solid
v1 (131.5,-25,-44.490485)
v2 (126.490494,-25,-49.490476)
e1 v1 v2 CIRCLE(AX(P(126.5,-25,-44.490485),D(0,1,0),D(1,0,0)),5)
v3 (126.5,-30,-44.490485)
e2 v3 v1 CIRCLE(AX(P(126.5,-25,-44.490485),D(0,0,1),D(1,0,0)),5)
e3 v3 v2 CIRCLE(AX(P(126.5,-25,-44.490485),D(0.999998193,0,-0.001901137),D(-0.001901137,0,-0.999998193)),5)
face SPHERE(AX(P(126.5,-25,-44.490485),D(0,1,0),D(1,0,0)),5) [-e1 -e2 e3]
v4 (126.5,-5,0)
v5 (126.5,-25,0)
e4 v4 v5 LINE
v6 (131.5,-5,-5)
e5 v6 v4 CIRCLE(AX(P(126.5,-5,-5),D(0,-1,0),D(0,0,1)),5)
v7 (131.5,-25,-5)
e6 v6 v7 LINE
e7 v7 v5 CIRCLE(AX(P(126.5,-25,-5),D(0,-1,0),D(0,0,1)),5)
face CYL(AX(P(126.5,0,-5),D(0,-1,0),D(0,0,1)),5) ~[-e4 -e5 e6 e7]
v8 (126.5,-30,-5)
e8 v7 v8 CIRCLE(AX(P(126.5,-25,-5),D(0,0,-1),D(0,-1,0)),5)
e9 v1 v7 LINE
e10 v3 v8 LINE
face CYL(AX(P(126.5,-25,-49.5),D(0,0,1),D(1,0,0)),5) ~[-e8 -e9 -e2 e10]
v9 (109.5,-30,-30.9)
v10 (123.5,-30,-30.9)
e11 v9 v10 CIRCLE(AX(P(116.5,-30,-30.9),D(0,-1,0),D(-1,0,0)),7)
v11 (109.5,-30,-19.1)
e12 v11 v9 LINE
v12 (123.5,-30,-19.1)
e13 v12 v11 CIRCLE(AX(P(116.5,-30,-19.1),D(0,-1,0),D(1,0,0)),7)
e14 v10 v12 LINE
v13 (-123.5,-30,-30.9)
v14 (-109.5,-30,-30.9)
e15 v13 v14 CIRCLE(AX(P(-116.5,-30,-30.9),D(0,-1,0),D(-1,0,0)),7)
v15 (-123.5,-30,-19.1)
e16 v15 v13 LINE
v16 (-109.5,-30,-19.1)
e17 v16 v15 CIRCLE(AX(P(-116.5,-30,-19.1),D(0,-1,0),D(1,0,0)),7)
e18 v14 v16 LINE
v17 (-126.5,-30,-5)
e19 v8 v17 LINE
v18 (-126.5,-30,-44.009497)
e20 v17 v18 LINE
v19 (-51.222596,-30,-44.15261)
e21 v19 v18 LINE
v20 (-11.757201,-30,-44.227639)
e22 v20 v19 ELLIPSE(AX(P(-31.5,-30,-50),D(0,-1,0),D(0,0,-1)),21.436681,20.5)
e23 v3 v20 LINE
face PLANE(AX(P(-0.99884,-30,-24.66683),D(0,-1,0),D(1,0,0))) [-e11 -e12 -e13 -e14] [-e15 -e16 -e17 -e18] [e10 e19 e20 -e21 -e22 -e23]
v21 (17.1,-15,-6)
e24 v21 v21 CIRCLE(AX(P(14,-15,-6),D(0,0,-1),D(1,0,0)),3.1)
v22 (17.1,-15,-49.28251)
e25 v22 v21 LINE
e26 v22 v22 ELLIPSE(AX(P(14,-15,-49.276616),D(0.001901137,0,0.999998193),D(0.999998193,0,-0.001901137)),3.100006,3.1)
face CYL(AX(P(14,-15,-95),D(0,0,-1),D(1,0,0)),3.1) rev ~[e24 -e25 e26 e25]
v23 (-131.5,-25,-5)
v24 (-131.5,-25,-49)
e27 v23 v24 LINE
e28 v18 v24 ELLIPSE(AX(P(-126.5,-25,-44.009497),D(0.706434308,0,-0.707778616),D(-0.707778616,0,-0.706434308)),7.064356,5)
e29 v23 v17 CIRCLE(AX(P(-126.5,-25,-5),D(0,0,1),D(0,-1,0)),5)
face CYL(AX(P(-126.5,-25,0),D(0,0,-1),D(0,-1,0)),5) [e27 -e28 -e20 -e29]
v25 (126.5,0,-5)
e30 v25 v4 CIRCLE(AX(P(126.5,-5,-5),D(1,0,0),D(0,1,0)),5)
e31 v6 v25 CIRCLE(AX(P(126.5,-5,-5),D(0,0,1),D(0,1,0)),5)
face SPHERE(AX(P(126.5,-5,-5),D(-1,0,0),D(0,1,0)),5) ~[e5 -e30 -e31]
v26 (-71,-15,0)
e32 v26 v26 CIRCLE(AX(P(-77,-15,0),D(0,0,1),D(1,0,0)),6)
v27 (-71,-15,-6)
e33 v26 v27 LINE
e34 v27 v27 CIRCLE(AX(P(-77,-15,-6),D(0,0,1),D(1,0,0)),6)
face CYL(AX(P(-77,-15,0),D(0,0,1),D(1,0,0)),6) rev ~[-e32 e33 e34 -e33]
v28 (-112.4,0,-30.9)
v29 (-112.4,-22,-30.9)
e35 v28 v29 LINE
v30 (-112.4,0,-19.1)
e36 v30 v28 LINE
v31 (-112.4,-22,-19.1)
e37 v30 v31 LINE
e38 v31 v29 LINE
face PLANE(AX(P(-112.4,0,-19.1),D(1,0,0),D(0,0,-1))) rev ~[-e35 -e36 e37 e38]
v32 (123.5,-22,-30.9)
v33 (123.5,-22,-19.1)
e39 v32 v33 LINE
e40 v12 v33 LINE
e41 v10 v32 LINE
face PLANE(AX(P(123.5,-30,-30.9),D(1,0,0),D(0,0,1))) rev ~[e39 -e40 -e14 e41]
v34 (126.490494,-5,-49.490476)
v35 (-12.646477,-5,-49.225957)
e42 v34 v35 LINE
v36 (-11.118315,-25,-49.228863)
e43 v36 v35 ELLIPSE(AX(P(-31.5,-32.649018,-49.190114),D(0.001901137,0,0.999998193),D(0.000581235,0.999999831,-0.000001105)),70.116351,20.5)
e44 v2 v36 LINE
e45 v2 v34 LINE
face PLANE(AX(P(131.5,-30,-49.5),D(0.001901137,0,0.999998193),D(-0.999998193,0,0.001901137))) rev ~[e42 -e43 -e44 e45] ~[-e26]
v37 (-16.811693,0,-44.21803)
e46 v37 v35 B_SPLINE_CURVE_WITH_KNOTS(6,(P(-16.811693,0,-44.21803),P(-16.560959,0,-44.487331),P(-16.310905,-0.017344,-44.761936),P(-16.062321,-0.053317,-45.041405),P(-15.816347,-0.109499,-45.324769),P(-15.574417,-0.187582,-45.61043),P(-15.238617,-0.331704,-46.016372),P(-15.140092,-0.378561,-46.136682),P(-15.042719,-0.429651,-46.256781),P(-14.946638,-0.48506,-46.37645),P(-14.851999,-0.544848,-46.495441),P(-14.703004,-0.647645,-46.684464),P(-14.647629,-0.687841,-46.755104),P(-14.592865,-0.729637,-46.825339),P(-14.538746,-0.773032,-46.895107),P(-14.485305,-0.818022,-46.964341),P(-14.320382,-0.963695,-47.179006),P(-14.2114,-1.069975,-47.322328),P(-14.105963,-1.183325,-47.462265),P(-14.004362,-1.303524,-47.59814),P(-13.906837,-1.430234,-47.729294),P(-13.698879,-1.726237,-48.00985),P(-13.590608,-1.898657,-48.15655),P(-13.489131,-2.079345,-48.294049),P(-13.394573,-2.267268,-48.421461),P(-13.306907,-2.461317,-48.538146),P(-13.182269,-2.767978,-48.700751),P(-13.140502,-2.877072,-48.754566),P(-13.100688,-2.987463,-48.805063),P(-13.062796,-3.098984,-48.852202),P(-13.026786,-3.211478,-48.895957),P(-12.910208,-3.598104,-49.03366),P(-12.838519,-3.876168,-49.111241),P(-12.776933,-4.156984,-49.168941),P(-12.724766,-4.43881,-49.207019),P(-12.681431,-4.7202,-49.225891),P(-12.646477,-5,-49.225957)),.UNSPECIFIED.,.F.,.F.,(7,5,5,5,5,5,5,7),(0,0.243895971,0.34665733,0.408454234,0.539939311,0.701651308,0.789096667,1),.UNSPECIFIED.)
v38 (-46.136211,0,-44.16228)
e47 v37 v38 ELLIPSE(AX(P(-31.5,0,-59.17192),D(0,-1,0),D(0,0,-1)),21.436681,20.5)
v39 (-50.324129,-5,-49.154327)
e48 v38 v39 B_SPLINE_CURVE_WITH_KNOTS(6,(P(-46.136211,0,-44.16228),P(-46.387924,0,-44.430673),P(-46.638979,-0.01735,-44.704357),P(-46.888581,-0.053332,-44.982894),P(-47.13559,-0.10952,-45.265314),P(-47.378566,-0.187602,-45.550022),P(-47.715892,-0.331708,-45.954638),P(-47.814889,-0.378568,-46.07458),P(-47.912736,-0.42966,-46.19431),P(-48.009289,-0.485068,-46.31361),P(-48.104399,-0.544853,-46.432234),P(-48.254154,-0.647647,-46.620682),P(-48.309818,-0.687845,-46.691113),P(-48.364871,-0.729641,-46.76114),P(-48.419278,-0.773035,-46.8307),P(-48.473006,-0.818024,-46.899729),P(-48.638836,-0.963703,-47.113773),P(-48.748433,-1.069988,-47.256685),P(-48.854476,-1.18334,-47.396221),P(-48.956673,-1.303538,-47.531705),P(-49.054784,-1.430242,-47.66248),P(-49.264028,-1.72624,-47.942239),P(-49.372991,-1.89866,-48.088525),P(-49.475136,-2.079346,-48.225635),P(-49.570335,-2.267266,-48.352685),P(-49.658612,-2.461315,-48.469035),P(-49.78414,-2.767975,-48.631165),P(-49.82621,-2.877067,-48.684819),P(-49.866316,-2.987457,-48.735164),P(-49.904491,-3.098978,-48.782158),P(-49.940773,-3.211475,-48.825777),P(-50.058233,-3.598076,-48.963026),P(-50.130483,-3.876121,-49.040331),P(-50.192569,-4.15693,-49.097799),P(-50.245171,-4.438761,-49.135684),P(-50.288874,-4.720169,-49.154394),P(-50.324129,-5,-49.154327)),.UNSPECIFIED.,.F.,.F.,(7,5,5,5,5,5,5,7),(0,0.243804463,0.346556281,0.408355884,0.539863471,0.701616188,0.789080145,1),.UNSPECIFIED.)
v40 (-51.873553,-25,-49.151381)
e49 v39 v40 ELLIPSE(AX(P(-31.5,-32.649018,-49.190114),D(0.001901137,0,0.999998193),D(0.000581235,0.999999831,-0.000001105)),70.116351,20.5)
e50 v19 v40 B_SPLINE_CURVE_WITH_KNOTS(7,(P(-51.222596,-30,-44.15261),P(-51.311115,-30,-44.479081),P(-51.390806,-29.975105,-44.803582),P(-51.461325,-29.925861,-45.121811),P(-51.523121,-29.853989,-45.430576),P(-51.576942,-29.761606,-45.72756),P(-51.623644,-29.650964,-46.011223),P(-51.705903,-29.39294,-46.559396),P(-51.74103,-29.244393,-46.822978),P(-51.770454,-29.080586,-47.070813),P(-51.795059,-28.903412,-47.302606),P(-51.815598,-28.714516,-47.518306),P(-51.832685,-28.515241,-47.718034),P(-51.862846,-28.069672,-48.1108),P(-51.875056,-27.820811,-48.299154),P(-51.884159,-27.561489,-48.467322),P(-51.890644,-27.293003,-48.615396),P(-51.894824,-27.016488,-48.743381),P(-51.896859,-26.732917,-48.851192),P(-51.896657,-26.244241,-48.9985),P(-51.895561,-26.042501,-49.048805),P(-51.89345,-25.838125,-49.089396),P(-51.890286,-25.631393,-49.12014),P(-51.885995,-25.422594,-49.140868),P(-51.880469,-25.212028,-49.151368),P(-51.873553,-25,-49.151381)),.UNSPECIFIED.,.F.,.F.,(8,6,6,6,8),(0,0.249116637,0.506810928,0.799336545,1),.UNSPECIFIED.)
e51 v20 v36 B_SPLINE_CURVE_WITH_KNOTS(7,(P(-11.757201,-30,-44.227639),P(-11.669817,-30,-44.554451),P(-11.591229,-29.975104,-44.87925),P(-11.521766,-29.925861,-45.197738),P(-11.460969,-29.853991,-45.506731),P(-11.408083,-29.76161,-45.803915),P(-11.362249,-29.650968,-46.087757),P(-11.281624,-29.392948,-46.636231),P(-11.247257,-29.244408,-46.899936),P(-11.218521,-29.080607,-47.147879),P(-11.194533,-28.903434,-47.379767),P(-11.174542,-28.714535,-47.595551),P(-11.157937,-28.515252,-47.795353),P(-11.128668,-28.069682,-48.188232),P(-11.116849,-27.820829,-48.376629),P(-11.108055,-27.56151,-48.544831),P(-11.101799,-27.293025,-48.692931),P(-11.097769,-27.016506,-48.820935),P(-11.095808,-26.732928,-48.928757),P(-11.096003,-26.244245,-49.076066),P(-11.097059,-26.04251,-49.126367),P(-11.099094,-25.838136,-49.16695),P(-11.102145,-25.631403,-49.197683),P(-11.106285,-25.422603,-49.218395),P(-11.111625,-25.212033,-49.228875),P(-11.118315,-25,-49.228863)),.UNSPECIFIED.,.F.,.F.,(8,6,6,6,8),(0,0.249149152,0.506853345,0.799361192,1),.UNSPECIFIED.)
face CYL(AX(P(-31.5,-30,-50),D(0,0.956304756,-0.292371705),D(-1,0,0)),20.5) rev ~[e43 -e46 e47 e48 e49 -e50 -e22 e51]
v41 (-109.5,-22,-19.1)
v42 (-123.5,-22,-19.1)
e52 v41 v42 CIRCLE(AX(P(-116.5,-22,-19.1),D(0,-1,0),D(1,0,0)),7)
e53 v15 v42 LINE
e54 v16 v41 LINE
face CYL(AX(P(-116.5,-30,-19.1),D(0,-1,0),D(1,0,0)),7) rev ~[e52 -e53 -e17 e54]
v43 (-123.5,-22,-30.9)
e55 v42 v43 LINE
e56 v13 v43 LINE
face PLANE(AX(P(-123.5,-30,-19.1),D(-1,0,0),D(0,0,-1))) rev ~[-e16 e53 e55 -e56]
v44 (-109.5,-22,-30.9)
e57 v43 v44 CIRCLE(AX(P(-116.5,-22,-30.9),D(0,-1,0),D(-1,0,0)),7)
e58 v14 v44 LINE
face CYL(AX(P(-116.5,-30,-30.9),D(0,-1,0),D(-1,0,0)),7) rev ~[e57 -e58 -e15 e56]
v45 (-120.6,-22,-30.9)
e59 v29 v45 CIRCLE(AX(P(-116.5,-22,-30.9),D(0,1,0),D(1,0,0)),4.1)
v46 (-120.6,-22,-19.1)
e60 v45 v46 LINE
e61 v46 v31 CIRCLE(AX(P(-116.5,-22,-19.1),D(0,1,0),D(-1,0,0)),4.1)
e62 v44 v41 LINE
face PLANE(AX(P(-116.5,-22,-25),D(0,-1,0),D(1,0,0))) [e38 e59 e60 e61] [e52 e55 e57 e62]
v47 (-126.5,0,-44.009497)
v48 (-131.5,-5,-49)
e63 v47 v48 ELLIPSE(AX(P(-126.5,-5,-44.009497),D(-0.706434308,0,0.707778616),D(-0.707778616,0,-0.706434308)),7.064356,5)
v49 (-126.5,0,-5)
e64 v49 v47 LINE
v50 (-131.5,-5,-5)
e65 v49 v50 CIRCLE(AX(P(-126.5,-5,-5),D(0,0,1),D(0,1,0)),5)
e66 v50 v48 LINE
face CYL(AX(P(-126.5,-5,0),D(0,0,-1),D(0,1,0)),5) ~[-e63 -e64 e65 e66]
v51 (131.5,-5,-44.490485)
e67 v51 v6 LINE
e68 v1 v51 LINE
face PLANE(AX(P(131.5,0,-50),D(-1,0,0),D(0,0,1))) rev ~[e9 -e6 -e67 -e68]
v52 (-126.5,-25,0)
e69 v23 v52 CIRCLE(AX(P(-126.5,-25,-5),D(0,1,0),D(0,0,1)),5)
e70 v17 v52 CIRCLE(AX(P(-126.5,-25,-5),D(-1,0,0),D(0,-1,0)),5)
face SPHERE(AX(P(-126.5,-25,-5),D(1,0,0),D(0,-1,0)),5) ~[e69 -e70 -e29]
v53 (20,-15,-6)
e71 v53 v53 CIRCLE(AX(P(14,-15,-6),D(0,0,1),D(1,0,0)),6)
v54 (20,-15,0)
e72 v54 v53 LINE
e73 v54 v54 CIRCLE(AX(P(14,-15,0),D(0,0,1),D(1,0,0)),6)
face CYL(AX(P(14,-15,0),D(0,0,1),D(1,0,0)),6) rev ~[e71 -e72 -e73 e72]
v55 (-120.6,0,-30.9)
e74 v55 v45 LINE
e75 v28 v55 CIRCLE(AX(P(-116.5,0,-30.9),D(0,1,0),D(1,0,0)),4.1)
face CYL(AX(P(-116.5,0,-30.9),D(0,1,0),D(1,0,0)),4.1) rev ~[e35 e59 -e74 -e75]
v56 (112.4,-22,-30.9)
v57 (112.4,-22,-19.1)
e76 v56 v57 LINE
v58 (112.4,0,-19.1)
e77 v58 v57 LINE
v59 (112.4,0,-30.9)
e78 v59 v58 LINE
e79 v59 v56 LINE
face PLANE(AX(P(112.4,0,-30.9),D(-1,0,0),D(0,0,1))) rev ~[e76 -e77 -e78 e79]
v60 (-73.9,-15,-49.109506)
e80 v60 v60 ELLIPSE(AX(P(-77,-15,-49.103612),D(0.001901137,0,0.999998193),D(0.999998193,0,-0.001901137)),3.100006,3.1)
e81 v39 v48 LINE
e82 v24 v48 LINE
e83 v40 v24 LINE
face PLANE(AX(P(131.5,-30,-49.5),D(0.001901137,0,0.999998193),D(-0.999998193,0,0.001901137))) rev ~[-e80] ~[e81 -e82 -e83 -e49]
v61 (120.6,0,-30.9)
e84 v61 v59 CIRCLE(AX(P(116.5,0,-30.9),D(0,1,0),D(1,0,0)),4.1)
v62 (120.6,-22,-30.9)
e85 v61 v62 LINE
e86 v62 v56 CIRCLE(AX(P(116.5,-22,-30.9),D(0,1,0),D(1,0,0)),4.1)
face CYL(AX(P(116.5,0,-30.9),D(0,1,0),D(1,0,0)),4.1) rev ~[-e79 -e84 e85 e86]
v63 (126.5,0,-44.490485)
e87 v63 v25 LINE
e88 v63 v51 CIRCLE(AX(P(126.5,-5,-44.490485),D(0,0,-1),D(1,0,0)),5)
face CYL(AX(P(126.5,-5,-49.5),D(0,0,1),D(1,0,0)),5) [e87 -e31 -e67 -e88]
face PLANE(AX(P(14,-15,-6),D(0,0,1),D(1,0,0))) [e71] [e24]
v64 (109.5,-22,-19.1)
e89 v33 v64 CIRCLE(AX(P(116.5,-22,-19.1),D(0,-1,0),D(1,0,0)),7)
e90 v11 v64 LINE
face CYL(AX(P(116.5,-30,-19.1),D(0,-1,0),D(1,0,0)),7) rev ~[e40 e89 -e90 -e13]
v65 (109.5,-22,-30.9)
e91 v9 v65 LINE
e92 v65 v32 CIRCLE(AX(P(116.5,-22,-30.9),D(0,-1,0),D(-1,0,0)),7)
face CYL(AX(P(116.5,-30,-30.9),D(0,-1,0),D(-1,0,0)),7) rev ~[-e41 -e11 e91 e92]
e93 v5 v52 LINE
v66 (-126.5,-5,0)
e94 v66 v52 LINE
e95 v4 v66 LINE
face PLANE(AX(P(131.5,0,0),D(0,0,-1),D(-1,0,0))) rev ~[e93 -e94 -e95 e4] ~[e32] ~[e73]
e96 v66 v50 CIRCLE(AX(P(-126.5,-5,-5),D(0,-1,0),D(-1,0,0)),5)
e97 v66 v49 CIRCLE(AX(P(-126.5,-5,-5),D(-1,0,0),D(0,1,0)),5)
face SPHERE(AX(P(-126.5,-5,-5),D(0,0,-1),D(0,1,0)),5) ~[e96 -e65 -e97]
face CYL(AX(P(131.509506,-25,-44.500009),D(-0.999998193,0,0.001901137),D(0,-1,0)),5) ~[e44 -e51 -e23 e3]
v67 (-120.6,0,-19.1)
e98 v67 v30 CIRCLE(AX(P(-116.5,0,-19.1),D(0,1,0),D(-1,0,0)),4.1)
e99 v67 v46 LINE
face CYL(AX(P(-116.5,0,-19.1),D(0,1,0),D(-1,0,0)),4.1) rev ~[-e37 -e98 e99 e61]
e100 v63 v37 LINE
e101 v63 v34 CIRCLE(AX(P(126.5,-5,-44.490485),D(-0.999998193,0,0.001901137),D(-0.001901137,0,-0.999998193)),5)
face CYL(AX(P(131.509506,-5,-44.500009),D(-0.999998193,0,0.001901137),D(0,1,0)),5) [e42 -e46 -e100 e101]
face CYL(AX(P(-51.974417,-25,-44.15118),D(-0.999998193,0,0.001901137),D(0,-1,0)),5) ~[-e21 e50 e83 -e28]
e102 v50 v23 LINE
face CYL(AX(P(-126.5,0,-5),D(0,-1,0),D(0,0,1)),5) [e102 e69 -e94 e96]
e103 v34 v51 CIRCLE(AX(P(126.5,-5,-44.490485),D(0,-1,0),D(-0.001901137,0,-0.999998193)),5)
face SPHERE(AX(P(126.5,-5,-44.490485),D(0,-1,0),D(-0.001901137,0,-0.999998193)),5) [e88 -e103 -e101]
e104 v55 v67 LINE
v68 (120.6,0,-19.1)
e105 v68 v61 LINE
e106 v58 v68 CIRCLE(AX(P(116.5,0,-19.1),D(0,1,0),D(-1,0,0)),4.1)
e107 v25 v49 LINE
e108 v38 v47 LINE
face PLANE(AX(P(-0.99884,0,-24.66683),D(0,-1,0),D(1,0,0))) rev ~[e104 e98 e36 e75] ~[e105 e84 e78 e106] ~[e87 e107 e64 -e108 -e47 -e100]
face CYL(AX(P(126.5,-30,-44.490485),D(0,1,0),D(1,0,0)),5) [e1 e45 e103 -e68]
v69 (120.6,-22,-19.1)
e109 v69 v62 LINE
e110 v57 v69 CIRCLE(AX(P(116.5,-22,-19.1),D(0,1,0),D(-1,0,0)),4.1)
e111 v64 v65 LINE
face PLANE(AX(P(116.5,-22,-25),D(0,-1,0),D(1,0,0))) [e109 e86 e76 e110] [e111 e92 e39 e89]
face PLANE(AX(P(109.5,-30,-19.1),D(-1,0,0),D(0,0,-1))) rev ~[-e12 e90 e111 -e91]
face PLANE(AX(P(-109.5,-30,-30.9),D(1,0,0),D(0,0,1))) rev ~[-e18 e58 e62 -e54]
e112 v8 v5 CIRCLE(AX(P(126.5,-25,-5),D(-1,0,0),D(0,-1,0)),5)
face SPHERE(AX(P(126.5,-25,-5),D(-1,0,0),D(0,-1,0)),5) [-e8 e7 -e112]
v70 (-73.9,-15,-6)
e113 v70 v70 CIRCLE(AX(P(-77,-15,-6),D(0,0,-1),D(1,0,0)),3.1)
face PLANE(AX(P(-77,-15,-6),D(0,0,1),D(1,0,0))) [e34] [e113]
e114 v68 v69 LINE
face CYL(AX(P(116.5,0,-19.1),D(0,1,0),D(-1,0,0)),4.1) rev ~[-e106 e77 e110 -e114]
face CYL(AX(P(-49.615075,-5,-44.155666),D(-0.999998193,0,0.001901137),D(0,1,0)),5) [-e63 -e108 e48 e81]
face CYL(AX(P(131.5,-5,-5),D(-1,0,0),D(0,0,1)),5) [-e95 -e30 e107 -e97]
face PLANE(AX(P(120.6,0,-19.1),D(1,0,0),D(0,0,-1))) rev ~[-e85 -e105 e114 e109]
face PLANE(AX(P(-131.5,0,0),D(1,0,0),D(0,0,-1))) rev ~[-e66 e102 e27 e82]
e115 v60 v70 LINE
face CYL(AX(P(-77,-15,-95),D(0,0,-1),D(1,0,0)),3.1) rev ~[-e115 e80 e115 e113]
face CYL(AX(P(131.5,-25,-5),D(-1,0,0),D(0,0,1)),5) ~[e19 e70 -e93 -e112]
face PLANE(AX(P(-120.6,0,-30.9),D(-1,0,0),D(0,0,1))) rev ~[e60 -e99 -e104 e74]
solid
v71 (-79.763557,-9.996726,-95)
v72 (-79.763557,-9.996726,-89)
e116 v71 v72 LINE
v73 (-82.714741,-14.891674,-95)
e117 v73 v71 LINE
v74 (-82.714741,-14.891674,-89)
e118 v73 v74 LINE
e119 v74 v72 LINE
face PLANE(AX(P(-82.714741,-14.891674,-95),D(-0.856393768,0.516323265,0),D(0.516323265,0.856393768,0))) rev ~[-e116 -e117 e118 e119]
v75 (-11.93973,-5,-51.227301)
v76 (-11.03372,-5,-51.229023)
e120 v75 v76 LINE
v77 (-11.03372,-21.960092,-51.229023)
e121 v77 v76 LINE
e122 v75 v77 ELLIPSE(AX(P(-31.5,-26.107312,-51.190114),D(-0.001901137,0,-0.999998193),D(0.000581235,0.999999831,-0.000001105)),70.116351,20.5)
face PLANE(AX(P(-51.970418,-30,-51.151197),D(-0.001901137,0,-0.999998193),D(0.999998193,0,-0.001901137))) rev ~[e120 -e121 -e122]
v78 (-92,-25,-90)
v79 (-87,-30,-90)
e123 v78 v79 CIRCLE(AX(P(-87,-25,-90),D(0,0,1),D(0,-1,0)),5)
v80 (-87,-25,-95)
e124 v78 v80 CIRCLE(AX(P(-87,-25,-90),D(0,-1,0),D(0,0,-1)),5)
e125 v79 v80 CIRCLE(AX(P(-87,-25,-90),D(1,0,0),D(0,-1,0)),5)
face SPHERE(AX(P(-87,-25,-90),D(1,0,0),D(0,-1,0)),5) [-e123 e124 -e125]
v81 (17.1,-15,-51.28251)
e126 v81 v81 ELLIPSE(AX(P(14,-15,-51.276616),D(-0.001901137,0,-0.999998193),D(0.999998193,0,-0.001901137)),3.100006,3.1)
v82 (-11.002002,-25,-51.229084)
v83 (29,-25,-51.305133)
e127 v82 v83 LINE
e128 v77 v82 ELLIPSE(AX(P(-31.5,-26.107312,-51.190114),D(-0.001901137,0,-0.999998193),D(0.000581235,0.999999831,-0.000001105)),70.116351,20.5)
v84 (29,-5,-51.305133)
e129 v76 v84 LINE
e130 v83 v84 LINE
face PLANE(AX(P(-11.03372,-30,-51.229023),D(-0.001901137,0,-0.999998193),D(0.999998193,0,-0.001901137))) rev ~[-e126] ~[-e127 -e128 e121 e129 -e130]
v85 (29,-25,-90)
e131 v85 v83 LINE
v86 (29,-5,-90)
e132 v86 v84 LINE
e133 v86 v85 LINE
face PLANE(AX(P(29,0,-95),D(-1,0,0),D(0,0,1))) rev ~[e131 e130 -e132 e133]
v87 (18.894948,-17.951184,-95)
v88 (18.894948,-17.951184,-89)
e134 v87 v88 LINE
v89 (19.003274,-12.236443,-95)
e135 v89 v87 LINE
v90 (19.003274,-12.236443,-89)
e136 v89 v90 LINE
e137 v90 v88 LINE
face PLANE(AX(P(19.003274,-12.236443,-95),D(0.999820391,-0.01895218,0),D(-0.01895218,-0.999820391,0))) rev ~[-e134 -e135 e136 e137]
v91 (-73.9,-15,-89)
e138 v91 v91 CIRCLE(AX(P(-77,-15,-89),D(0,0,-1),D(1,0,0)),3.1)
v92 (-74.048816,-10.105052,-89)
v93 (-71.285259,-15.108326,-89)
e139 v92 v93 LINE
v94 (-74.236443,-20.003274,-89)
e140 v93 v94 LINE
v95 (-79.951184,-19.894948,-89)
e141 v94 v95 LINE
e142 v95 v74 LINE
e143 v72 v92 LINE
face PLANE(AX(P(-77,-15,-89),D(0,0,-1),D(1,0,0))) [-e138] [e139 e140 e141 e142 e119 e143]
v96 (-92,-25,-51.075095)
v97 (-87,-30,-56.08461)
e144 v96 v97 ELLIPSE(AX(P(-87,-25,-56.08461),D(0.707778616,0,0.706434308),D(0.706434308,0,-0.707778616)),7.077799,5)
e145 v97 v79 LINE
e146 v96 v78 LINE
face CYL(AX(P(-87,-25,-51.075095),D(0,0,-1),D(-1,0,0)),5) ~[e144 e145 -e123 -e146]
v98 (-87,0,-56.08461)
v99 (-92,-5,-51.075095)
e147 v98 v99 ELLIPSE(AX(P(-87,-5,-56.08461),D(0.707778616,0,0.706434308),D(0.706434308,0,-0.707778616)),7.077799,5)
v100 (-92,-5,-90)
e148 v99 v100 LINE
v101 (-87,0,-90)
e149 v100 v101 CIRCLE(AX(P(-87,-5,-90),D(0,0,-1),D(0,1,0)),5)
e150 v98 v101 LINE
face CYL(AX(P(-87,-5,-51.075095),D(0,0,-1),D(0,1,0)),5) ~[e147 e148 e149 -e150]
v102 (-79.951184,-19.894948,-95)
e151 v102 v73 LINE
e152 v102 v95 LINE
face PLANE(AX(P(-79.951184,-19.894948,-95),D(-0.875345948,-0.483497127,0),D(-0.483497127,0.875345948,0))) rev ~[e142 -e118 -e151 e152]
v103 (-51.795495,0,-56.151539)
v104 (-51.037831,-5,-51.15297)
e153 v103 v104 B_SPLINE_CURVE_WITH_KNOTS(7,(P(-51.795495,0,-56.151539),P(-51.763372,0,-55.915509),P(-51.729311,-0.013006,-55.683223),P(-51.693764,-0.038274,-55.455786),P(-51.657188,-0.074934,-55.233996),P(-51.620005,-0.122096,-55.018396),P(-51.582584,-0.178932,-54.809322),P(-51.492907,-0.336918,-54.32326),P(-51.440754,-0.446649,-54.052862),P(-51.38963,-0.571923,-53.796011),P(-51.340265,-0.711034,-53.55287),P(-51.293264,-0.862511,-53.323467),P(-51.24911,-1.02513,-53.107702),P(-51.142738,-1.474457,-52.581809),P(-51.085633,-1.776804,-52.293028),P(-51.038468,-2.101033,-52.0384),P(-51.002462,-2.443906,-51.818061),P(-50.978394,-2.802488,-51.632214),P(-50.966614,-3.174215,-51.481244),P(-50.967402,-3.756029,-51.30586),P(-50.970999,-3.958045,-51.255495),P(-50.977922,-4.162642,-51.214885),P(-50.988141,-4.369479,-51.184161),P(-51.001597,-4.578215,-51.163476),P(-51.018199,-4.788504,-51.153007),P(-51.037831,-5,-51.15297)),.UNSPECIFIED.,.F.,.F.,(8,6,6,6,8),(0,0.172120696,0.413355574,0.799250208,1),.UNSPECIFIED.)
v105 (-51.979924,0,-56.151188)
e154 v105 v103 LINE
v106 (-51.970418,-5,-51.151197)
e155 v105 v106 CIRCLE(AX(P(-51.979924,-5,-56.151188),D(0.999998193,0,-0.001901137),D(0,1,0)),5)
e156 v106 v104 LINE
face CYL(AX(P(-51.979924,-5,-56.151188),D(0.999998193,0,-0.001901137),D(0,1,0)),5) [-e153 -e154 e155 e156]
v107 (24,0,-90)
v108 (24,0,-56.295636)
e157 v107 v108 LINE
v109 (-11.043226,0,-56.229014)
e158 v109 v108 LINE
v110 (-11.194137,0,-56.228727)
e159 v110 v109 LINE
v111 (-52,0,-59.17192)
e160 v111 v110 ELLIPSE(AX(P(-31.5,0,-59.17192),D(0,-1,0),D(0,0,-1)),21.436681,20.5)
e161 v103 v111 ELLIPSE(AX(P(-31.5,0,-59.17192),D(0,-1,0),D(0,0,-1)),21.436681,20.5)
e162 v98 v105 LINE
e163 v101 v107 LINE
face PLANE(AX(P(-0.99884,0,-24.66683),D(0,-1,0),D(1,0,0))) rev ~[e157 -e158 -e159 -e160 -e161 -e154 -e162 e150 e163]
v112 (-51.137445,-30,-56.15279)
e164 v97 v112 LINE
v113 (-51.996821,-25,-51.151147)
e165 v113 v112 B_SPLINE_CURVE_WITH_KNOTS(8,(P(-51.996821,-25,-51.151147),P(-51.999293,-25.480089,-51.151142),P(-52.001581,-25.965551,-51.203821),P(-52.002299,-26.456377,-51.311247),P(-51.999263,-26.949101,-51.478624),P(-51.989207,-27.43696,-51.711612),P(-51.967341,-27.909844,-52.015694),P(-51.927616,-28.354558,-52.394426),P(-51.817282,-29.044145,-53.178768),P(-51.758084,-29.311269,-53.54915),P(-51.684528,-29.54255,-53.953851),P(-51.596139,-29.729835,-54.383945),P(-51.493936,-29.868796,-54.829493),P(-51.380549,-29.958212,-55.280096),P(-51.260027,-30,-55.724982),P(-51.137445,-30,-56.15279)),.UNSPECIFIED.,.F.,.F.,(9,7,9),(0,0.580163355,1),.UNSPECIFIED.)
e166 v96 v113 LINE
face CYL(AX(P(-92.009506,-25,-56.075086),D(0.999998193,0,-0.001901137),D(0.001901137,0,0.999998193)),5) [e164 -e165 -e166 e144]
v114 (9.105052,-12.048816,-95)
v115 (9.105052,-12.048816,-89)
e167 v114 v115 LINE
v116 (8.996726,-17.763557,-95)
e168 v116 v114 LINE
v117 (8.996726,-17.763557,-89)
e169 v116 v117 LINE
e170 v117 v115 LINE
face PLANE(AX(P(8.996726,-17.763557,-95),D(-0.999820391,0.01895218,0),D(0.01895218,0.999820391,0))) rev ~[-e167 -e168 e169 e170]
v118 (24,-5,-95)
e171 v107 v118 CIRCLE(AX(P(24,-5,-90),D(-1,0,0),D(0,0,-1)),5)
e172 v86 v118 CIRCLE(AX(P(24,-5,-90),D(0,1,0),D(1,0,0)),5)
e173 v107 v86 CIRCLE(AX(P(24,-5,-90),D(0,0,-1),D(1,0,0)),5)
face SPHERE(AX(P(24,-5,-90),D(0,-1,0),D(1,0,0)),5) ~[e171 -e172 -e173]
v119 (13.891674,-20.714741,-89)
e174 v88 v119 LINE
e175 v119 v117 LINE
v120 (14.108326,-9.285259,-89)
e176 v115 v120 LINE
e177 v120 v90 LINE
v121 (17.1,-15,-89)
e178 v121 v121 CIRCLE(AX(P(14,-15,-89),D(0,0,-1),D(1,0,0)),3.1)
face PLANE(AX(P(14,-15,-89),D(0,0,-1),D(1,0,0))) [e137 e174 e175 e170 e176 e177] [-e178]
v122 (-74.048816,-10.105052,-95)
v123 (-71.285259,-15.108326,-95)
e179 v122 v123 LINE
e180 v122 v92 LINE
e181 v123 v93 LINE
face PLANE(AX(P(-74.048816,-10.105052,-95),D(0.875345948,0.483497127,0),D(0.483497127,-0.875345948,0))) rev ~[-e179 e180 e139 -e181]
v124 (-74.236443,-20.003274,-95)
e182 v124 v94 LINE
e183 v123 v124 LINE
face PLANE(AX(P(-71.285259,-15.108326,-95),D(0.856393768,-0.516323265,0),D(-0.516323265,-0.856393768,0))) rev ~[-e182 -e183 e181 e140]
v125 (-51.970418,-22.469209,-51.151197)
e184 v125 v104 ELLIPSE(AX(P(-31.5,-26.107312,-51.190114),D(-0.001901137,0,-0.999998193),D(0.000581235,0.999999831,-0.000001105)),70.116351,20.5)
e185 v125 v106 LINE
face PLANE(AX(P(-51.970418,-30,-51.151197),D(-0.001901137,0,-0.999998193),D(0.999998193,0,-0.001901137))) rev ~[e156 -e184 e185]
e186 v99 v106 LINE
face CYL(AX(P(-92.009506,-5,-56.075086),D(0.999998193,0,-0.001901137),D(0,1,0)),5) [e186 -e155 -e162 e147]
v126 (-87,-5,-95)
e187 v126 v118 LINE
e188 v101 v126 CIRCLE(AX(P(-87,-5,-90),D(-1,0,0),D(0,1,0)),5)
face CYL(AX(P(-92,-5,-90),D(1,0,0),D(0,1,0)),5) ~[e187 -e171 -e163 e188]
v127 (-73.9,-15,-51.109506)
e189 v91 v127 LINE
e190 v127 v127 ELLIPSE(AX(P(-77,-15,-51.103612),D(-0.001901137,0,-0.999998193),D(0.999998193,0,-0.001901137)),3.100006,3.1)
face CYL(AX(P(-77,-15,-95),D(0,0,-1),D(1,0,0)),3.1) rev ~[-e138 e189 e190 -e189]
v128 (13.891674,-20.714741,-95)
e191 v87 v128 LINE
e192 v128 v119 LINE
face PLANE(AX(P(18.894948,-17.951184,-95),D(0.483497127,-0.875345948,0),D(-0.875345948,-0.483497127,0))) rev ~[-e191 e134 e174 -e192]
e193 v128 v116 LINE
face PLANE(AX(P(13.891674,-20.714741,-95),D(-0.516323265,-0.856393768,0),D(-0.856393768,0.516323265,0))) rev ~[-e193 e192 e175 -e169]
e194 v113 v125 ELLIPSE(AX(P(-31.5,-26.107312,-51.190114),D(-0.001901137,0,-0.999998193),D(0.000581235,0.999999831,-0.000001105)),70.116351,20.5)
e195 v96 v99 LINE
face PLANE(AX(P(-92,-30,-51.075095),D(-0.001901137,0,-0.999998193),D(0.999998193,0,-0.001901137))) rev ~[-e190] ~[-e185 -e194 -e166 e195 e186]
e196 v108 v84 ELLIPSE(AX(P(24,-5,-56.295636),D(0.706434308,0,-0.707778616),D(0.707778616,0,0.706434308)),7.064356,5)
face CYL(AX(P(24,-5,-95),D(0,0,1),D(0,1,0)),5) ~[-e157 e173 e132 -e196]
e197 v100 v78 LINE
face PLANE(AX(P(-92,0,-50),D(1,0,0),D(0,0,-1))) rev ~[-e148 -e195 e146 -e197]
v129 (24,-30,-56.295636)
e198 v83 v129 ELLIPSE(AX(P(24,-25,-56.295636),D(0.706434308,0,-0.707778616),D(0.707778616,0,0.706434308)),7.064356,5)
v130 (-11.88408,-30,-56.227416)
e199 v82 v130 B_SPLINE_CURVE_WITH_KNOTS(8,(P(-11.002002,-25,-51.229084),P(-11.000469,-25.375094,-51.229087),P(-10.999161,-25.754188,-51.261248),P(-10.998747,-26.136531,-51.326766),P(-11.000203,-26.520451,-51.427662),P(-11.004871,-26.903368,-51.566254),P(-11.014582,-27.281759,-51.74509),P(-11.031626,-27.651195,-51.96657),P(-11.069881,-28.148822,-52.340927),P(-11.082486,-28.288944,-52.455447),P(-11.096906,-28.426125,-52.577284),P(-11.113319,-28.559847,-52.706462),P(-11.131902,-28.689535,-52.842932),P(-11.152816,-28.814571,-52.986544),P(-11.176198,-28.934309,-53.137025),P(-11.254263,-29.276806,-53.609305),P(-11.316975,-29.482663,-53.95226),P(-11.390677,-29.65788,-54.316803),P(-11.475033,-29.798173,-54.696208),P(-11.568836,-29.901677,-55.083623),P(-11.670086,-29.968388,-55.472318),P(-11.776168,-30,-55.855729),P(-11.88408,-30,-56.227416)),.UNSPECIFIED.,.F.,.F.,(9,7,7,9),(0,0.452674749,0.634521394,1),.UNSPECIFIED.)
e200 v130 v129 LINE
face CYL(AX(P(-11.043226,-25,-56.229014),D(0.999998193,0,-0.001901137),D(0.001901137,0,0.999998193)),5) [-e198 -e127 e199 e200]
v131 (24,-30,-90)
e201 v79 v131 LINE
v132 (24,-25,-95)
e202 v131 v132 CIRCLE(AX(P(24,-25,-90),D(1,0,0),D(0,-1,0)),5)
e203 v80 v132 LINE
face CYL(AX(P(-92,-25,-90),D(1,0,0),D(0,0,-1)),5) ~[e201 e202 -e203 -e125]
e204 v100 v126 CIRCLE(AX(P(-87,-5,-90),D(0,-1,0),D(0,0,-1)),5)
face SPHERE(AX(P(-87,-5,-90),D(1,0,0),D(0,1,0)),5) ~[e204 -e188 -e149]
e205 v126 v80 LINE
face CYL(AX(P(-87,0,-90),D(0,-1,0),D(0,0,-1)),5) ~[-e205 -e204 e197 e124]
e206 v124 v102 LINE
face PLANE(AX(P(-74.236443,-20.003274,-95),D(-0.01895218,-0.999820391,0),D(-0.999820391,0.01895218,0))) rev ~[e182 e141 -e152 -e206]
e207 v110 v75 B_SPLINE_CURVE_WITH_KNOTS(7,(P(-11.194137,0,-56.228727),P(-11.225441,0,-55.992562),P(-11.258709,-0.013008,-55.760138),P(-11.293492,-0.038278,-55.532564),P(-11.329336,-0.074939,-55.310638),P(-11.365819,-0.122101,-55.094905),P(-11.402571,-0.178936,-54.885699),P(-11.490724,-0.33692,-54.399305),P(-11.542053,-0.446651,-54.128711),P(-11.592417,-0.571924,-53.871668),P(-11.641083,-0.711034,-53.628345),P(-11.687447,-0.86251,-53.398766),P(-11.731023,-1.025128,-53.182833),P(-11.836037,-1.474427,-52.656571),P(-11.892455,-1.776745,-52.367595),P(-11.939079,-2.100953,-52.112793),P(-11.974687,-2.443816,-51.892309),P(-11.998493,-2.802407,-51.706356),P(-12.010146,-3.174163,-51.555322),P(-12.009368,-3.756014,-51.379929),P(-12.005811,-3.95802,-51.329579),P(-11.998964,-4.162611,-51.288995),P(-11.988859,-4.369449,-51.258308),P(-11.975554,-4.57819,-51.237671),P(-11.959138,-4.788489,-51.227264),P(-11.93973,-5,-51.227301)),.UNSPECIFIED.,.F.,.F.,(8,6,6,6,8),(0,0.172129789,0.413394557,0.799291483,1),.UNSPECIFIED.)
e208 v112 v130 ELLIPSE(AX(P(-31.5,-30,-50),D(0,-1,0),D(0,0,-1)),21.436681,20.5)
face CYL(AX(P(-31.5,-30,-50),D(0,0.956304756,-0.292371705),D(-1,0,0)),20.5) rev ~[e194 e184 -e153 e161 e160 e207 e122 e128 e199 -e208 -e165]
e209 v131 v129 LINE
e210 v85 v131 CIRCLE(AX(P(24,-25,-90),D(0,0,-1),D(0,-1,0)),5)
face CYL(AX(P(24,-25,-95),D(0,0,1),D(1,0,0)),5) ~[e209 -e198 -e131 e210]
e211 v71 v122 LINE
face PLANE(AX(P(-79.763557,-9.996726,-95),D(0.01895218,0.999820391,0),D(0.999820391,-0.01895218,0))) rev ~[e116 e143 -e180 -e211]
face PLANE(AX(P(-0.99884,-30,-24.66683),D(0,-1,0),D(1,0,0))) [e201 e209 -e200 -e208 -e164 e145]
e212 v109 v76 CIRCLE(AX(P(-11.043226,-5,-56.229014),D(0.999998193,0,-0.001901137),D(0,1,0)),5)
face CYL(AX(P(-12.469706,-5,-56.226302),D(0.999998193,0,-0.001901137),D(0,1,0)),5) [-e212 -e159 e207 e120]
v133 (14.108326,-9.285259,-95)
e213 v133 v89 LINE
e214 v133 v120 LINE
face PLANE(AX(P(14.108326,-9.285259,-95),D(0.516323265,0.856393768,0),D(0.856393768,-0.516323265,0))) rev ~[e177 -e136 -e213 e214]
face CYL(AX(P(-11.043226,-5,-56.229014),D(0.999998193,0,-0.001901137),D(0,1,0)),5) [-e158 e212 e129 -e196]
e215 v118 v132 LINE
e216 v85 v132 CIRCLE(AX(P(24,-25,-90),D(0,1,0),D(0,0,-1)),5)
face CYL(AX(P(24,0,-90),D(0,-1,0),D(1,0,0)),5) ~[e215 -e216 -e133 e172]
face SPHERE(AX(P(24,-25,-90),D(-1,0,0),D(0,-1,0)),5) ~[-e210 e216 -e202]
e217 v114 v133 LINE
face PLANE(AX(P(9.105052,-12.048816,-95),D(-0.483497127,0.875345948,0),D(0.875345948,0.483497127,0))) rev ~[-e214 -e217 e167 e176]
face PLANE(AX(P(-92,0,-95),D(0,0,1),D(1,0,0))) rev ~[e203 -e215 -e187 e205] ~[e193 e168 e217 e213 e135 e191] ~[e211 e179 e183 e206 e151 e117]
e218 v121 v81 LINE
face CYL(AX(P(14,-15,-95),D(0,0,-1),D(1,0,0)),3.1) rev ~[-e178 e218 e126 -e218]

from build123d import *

# Parameters (mm, degrees)
F1_DEPTH  = 30
F3_R      = 20.5
F4_DEPTH  = 40
F6_DEPTH  = 8
F7_R      = 3.1
F8_DEPTH  = 95
F9_DEPTH  = 6
F10_R     = 6
F11_DEPTH = 6
F13_DEPTH = 50
F14_R     = 5


with BuildPart() as f1:
    # F0 (on Front) → F1 (new body)
    with BuildSketch(Plane.XZ):
        with BuildLine():
            Line((131.5, 0), (0, 0))
            Line((0, 0), (-131.5, 0))
            Line((-131.5, 0), (-131.5, -50))
            Line((-131.5, -50), (-92, -50))
            Line((-92, -50), (-52, -50))
            ThreePointArc((-52, -50), (-31.5, -29.5), (-11, -50))
            Line((-11, -50), (29, -50))
            Line((29, -50), (131.5, -50))
            Line((131.5, -50), (131.5, 0))
        make_face()
        with BuildLine():
            ThreePointArc((-112.4, -30.9), (-116.5, -35), (-120.6, -30.9))
            Line((-120.6, -30.9), (-120.6, -19.1))
            ThreePointArc((-120.6, -19.1), (-116.5, -15), (-112.4, -19.1))
            Line((-112.4, -19.1), (-112.4, -30.9))
        make_face(mode=Mode.SUBTRACT)
        with BuildLine():
            ThreePointArc((112.4, -19.1), (116.5, -15), (120.6, -19.1))
            Line((120.6, -19.1), (120.6, -30.9))
            ThreePointArc((120.6, -30.9), (116.5, -35), (112.4, -30.9))
            Line((112.4, -30.9), (112.4, -19.1))
        make_face(mode=Mode.SUBTRACT)
        with BuildLine():
            Line((29, -95), (29, -50))
            Line((29, -50), (-11, -50))
            ThreePointArc((-11, -50), (-31.5, -70.5), (-52, -50))
            Line((-52, -50), (-92, -50))
            Line((-92, -50), (-92, -95))
            Line((-92, -95), (29, -95))
        make_face()
        with BuildLine():
            ThreePointArc((-52, -50), (-31.5, -70.5), (-11, -50))
            Line((-11, -50), (-52, -50))
        make_face()
        with BuildLine():
            Line((-52, -50), (-11, -50))
            ThreePointArc((-11, -50), (-31.5, -29.5), (-52, -50))
        make_face()
    extrude(amount=F1_DEPTH)

    # F3 (on face) → F4 (cut, symmetric)
    with BuildSketch(Plane(origin=(0, -13.4557410016, 4.1138328659), x_dir=(-1, 0, 0), z_dir=(0, 0.956304756, -0.2923717047))):
        with Locations((31.5, -56.5863889398)):
            Circle(F3_R)
    extrude(amount=F4_DEPTH, both=True, mode=Mode.SUBTRACT)

    # F5 (on face) → F6 (cut)
    with BuildSketch(Plane.XZ.offset(30)):
        with BuildLine():
            Line((-109.5, -30.9), (-109.5, -19.1))
            ThreePointArc((-109.5, -19.1), (-116.5, -12.1), (-123.5, -19.1))
            Line((-123.5, -19.1), (-123.5, -30.9))
            ThreePointArc((-123.5, -30.9), (-116.5, -37.9), (-109.5, -30.9))
        make_face()
        with BuildLine():
            Line((-112.4, -19.1), (-112.4, -30.9))
            ThreePointArc((-112.4, -30.9), (-116.5, -35), (-120.6, -30.9))
            Line((-120.6, -30.9), (-120.6, -19.1))
            ThreePointArc((-120.6, -19.1), (-116.5, -15), (-112.4, -19.1))
        make_face(mode=Mode.SUBTRACT)
        with BuildLine():
            Line((109.5, -19.1), (109.5, -30.9))
            ThreePointArc((109.5, -30.9), (116.5, -37.9), (123.5, -30.9))
            Line((123.5, -30.9), (123.5, -19.1))
            ThreePointArc((123.5, -19.1), (116.5, -12.1), (109.5, -19.1))
        make_face()
        with BuildLine():
            Line((112.4, -30.9), (112.4, -19.1))
            ThreePointArc((112.4, -19.1), (116.5, -15), (120.6, -19.1))
            Line((120.6, -19.1), (120.6, -30.9))
            ThreePointArc((120.6, -30.9), (116.5, -35), (112.4, -30.9))
        make_face(mode=Mode.SUBTRACT)
    extrude(amount=-F6_DEPTH, mode=Mode.SUBTRACT)

    # F7 (on face) → F8 (cut, through all)
    with BuildSketch(Plane(origin=(0, 0, -95), x_dir=(1, 0, 0), z_dir=(0, 0, -1))):
        with Locations((-77, 15)):
            Circle(F7_R)
        with Locations((14, 15)):
            Circle(F7_R)
    extrude(amount=-F8_DEPTH, mode=Mode.SUBTRACT)

    # F7 (on face) → F9 (cut)
    with BuildSketch(Plane(origin=(0, 0, -95), x_dir=(1, 0, 0), z_dir=(0, 0, -1))):
        Polygon((-71.2852589366, 15.1083262564), (-74.2364427582, 20.0032740652), (-79.9511838216, 19.8949478088), (-82.7147410634, 14.8916737436), (-79.7635572418, 9.9967259348), (-74.0488161784, 10.1050521912), align=None)
        with Locations((-77, 15)):
            Circle(F7_R, mode=Mode.SUBTRACT)
        Polygon((13.8916737436, 20.7147410634), (8.9967259348, 17.7635572418), (9.1050521912, 12.0488161784), (14.1083262564, 9.2852589366), (19.0032740652, 12.2364427582), (18.8949478088, 17.9511838216), align=None)
        with Locations((14, 15)):
            Circle(F7_R, mode=Mode.SUBTRACT)
    extrude(amount=-F9_DEPTH, mode=Mode.SUBTRACT)

    # F10 (on face) → F11 (cut)
    with BuildSketch(Plane.XY):
        with Locations((-77, -15)):
            Circle(F10_R)
        with Locations((14, -15)):
            Circle(F10_R)
    extrude(amount=-F11_DEPTH, mode=Mode.SUBTRACT)

    # F12 (on face) → F13 (cut)
    with BuildSketch(Plane.XZ.offset(30)):
        with BuildLine():
            Line((-131.5, -49), (-131.5, -50))
            Line((-131.5, -50), (-92, -50))
            Line((-92, -50), (-92, -51.075095057))
            Line((-92, -51.075095057), (-51.9704184128, -51.1511969232))
            add(Edge.make_bspline(
                [(-52, -50), (-52, -50.576014057), (-51.9704184128, -51.1511969232)],
                knots=[4.7123889804, 4.7123889804, 4.7123889804, 4.7763798098, 4.7763798098, 4.7763798098], degree=2, weights=[1, 0.9847233148, 0.970380138]))
            add(Edge.make_bspline(
                [(-51.9839224721, -49.1511712501), (-52, -49.5754191321), (-52, -50)],
                knots=[10.9482163468, 10.9482163468, 10.9482163468, 10.9955742876, 10.9955742876, 10.9955742876], degree=2, weights=[0.9778995402, 0.9886941244, 1]))
            Line((-51.9839224721, -49.1511712501), (-131.5, -49))
        make_face()
        with BuildLine():
            Line((-11.0132613551, -49.2290622408), (-51.9839224721, -49.1511712501))
            add(Edge.make_bspline(
                [(-51.9839224721, -49.1511712501), (-52, -49.5754191321), (-52, -50)],
                knots=[10.9482163468, 10.9482163468, 10.9482163468, 10.9955742876, 10.9955742876, 10.9955742876], degree=2, weights=[0.9778995402, 0.9886941244, 1]))
            add(Edge.make_bspline(
                [(-52, -50), (-52, -50.576014057), (-51.9704184128, -51.1511969232)],
                knots=[4.7123889804, 4.7123889804, 4.7123889804, 4.7763798098, 4.7763798098, 4.7763798098], degree=2, weights=[1, 0.9847233148, 0.970380138]))
            Line((-51.9704184128, -51.1511969232), (-11.0337199069, -51.2290233462))
            add(Edge.make_bspline(
                [(-11.0337199069, -51.2290233462), (-10.9788305182, -50.2295423453), (-11.0132613551, -49.2290622408)],
                knots=[7.8019438057, 7.8019438057, 7.8019438057, 7.88660746, 7.88660746, 7.88660746], degree=2, weights=[0.7506173353, 0.7496129532, 0.7502426643]))
        make_face()
        with BuildLine():
            Line((131.5, -49.5), (-11.0132613551, -49.2290622408))
            add(Edge.make_bspline(
                [(-11.0337199069, -51.2290233462), (-10.9788305182, -50.2295423453), (-11.0132613551, -49.2290622408)],
                knots=[7.8019438057, 7.8019438057, 7.8019438057, 7.88660746, 7.88660746, 7.88660746], degree=2, weights=[0.7506173353, 0.7496129532, 0.7502426643]))
            Line((-11.0337199069, -51.2290233462), (29, -51.3051330798))
            Line((29, -51.3051330798), (29, -50))
            Line((29, -50), (131.5, -50))
            Line((131.5, -50), (131.5, -49.5))
        make_face()
    extrude(amount=-F13_DEPTH, mode=Mode.SUBTRACT)

    # F14
    f14_edges = [f1.edges().sort_by_distance(p)[0] for p in [
        (0, -30, 0),
        (-131.5, -30, -24.5),
        (131.5, -30, -24.75),
        (60.243369, -30, -49.364531),
        (-91.741961, -30, -49.075586),
        (-31.5, -30, -95),
        (-92, -30, -73.037548),
        (-71.985209, -30, -51.113146),
        (8.98314, -30, -51.267078),
        (29, -30, -73.152567),
        (29, -15, -95),
        (29, 0, -73.152567),
        (-31.5, 0, -95),
        (8.2699, 0, -51.265722),
        (-71.256022, 0, -51.114532),
        (-92, 0, -73.037548),
        (-92, -15, -95),
        (-131.5, 0, -24.5),
        (0, 0, 0),
        (59.079645, 0, -49.362319),
        (-90.56229, 0, -49.077828),
        (131.5, 0, -24.75),
        (131.5, -15, -49.5),
        (131.5, -15, 0),
        (-131.5, -15, 0),
    ]]
    fillet(f14_edges, radius=F14_R)


solid = f1.part
